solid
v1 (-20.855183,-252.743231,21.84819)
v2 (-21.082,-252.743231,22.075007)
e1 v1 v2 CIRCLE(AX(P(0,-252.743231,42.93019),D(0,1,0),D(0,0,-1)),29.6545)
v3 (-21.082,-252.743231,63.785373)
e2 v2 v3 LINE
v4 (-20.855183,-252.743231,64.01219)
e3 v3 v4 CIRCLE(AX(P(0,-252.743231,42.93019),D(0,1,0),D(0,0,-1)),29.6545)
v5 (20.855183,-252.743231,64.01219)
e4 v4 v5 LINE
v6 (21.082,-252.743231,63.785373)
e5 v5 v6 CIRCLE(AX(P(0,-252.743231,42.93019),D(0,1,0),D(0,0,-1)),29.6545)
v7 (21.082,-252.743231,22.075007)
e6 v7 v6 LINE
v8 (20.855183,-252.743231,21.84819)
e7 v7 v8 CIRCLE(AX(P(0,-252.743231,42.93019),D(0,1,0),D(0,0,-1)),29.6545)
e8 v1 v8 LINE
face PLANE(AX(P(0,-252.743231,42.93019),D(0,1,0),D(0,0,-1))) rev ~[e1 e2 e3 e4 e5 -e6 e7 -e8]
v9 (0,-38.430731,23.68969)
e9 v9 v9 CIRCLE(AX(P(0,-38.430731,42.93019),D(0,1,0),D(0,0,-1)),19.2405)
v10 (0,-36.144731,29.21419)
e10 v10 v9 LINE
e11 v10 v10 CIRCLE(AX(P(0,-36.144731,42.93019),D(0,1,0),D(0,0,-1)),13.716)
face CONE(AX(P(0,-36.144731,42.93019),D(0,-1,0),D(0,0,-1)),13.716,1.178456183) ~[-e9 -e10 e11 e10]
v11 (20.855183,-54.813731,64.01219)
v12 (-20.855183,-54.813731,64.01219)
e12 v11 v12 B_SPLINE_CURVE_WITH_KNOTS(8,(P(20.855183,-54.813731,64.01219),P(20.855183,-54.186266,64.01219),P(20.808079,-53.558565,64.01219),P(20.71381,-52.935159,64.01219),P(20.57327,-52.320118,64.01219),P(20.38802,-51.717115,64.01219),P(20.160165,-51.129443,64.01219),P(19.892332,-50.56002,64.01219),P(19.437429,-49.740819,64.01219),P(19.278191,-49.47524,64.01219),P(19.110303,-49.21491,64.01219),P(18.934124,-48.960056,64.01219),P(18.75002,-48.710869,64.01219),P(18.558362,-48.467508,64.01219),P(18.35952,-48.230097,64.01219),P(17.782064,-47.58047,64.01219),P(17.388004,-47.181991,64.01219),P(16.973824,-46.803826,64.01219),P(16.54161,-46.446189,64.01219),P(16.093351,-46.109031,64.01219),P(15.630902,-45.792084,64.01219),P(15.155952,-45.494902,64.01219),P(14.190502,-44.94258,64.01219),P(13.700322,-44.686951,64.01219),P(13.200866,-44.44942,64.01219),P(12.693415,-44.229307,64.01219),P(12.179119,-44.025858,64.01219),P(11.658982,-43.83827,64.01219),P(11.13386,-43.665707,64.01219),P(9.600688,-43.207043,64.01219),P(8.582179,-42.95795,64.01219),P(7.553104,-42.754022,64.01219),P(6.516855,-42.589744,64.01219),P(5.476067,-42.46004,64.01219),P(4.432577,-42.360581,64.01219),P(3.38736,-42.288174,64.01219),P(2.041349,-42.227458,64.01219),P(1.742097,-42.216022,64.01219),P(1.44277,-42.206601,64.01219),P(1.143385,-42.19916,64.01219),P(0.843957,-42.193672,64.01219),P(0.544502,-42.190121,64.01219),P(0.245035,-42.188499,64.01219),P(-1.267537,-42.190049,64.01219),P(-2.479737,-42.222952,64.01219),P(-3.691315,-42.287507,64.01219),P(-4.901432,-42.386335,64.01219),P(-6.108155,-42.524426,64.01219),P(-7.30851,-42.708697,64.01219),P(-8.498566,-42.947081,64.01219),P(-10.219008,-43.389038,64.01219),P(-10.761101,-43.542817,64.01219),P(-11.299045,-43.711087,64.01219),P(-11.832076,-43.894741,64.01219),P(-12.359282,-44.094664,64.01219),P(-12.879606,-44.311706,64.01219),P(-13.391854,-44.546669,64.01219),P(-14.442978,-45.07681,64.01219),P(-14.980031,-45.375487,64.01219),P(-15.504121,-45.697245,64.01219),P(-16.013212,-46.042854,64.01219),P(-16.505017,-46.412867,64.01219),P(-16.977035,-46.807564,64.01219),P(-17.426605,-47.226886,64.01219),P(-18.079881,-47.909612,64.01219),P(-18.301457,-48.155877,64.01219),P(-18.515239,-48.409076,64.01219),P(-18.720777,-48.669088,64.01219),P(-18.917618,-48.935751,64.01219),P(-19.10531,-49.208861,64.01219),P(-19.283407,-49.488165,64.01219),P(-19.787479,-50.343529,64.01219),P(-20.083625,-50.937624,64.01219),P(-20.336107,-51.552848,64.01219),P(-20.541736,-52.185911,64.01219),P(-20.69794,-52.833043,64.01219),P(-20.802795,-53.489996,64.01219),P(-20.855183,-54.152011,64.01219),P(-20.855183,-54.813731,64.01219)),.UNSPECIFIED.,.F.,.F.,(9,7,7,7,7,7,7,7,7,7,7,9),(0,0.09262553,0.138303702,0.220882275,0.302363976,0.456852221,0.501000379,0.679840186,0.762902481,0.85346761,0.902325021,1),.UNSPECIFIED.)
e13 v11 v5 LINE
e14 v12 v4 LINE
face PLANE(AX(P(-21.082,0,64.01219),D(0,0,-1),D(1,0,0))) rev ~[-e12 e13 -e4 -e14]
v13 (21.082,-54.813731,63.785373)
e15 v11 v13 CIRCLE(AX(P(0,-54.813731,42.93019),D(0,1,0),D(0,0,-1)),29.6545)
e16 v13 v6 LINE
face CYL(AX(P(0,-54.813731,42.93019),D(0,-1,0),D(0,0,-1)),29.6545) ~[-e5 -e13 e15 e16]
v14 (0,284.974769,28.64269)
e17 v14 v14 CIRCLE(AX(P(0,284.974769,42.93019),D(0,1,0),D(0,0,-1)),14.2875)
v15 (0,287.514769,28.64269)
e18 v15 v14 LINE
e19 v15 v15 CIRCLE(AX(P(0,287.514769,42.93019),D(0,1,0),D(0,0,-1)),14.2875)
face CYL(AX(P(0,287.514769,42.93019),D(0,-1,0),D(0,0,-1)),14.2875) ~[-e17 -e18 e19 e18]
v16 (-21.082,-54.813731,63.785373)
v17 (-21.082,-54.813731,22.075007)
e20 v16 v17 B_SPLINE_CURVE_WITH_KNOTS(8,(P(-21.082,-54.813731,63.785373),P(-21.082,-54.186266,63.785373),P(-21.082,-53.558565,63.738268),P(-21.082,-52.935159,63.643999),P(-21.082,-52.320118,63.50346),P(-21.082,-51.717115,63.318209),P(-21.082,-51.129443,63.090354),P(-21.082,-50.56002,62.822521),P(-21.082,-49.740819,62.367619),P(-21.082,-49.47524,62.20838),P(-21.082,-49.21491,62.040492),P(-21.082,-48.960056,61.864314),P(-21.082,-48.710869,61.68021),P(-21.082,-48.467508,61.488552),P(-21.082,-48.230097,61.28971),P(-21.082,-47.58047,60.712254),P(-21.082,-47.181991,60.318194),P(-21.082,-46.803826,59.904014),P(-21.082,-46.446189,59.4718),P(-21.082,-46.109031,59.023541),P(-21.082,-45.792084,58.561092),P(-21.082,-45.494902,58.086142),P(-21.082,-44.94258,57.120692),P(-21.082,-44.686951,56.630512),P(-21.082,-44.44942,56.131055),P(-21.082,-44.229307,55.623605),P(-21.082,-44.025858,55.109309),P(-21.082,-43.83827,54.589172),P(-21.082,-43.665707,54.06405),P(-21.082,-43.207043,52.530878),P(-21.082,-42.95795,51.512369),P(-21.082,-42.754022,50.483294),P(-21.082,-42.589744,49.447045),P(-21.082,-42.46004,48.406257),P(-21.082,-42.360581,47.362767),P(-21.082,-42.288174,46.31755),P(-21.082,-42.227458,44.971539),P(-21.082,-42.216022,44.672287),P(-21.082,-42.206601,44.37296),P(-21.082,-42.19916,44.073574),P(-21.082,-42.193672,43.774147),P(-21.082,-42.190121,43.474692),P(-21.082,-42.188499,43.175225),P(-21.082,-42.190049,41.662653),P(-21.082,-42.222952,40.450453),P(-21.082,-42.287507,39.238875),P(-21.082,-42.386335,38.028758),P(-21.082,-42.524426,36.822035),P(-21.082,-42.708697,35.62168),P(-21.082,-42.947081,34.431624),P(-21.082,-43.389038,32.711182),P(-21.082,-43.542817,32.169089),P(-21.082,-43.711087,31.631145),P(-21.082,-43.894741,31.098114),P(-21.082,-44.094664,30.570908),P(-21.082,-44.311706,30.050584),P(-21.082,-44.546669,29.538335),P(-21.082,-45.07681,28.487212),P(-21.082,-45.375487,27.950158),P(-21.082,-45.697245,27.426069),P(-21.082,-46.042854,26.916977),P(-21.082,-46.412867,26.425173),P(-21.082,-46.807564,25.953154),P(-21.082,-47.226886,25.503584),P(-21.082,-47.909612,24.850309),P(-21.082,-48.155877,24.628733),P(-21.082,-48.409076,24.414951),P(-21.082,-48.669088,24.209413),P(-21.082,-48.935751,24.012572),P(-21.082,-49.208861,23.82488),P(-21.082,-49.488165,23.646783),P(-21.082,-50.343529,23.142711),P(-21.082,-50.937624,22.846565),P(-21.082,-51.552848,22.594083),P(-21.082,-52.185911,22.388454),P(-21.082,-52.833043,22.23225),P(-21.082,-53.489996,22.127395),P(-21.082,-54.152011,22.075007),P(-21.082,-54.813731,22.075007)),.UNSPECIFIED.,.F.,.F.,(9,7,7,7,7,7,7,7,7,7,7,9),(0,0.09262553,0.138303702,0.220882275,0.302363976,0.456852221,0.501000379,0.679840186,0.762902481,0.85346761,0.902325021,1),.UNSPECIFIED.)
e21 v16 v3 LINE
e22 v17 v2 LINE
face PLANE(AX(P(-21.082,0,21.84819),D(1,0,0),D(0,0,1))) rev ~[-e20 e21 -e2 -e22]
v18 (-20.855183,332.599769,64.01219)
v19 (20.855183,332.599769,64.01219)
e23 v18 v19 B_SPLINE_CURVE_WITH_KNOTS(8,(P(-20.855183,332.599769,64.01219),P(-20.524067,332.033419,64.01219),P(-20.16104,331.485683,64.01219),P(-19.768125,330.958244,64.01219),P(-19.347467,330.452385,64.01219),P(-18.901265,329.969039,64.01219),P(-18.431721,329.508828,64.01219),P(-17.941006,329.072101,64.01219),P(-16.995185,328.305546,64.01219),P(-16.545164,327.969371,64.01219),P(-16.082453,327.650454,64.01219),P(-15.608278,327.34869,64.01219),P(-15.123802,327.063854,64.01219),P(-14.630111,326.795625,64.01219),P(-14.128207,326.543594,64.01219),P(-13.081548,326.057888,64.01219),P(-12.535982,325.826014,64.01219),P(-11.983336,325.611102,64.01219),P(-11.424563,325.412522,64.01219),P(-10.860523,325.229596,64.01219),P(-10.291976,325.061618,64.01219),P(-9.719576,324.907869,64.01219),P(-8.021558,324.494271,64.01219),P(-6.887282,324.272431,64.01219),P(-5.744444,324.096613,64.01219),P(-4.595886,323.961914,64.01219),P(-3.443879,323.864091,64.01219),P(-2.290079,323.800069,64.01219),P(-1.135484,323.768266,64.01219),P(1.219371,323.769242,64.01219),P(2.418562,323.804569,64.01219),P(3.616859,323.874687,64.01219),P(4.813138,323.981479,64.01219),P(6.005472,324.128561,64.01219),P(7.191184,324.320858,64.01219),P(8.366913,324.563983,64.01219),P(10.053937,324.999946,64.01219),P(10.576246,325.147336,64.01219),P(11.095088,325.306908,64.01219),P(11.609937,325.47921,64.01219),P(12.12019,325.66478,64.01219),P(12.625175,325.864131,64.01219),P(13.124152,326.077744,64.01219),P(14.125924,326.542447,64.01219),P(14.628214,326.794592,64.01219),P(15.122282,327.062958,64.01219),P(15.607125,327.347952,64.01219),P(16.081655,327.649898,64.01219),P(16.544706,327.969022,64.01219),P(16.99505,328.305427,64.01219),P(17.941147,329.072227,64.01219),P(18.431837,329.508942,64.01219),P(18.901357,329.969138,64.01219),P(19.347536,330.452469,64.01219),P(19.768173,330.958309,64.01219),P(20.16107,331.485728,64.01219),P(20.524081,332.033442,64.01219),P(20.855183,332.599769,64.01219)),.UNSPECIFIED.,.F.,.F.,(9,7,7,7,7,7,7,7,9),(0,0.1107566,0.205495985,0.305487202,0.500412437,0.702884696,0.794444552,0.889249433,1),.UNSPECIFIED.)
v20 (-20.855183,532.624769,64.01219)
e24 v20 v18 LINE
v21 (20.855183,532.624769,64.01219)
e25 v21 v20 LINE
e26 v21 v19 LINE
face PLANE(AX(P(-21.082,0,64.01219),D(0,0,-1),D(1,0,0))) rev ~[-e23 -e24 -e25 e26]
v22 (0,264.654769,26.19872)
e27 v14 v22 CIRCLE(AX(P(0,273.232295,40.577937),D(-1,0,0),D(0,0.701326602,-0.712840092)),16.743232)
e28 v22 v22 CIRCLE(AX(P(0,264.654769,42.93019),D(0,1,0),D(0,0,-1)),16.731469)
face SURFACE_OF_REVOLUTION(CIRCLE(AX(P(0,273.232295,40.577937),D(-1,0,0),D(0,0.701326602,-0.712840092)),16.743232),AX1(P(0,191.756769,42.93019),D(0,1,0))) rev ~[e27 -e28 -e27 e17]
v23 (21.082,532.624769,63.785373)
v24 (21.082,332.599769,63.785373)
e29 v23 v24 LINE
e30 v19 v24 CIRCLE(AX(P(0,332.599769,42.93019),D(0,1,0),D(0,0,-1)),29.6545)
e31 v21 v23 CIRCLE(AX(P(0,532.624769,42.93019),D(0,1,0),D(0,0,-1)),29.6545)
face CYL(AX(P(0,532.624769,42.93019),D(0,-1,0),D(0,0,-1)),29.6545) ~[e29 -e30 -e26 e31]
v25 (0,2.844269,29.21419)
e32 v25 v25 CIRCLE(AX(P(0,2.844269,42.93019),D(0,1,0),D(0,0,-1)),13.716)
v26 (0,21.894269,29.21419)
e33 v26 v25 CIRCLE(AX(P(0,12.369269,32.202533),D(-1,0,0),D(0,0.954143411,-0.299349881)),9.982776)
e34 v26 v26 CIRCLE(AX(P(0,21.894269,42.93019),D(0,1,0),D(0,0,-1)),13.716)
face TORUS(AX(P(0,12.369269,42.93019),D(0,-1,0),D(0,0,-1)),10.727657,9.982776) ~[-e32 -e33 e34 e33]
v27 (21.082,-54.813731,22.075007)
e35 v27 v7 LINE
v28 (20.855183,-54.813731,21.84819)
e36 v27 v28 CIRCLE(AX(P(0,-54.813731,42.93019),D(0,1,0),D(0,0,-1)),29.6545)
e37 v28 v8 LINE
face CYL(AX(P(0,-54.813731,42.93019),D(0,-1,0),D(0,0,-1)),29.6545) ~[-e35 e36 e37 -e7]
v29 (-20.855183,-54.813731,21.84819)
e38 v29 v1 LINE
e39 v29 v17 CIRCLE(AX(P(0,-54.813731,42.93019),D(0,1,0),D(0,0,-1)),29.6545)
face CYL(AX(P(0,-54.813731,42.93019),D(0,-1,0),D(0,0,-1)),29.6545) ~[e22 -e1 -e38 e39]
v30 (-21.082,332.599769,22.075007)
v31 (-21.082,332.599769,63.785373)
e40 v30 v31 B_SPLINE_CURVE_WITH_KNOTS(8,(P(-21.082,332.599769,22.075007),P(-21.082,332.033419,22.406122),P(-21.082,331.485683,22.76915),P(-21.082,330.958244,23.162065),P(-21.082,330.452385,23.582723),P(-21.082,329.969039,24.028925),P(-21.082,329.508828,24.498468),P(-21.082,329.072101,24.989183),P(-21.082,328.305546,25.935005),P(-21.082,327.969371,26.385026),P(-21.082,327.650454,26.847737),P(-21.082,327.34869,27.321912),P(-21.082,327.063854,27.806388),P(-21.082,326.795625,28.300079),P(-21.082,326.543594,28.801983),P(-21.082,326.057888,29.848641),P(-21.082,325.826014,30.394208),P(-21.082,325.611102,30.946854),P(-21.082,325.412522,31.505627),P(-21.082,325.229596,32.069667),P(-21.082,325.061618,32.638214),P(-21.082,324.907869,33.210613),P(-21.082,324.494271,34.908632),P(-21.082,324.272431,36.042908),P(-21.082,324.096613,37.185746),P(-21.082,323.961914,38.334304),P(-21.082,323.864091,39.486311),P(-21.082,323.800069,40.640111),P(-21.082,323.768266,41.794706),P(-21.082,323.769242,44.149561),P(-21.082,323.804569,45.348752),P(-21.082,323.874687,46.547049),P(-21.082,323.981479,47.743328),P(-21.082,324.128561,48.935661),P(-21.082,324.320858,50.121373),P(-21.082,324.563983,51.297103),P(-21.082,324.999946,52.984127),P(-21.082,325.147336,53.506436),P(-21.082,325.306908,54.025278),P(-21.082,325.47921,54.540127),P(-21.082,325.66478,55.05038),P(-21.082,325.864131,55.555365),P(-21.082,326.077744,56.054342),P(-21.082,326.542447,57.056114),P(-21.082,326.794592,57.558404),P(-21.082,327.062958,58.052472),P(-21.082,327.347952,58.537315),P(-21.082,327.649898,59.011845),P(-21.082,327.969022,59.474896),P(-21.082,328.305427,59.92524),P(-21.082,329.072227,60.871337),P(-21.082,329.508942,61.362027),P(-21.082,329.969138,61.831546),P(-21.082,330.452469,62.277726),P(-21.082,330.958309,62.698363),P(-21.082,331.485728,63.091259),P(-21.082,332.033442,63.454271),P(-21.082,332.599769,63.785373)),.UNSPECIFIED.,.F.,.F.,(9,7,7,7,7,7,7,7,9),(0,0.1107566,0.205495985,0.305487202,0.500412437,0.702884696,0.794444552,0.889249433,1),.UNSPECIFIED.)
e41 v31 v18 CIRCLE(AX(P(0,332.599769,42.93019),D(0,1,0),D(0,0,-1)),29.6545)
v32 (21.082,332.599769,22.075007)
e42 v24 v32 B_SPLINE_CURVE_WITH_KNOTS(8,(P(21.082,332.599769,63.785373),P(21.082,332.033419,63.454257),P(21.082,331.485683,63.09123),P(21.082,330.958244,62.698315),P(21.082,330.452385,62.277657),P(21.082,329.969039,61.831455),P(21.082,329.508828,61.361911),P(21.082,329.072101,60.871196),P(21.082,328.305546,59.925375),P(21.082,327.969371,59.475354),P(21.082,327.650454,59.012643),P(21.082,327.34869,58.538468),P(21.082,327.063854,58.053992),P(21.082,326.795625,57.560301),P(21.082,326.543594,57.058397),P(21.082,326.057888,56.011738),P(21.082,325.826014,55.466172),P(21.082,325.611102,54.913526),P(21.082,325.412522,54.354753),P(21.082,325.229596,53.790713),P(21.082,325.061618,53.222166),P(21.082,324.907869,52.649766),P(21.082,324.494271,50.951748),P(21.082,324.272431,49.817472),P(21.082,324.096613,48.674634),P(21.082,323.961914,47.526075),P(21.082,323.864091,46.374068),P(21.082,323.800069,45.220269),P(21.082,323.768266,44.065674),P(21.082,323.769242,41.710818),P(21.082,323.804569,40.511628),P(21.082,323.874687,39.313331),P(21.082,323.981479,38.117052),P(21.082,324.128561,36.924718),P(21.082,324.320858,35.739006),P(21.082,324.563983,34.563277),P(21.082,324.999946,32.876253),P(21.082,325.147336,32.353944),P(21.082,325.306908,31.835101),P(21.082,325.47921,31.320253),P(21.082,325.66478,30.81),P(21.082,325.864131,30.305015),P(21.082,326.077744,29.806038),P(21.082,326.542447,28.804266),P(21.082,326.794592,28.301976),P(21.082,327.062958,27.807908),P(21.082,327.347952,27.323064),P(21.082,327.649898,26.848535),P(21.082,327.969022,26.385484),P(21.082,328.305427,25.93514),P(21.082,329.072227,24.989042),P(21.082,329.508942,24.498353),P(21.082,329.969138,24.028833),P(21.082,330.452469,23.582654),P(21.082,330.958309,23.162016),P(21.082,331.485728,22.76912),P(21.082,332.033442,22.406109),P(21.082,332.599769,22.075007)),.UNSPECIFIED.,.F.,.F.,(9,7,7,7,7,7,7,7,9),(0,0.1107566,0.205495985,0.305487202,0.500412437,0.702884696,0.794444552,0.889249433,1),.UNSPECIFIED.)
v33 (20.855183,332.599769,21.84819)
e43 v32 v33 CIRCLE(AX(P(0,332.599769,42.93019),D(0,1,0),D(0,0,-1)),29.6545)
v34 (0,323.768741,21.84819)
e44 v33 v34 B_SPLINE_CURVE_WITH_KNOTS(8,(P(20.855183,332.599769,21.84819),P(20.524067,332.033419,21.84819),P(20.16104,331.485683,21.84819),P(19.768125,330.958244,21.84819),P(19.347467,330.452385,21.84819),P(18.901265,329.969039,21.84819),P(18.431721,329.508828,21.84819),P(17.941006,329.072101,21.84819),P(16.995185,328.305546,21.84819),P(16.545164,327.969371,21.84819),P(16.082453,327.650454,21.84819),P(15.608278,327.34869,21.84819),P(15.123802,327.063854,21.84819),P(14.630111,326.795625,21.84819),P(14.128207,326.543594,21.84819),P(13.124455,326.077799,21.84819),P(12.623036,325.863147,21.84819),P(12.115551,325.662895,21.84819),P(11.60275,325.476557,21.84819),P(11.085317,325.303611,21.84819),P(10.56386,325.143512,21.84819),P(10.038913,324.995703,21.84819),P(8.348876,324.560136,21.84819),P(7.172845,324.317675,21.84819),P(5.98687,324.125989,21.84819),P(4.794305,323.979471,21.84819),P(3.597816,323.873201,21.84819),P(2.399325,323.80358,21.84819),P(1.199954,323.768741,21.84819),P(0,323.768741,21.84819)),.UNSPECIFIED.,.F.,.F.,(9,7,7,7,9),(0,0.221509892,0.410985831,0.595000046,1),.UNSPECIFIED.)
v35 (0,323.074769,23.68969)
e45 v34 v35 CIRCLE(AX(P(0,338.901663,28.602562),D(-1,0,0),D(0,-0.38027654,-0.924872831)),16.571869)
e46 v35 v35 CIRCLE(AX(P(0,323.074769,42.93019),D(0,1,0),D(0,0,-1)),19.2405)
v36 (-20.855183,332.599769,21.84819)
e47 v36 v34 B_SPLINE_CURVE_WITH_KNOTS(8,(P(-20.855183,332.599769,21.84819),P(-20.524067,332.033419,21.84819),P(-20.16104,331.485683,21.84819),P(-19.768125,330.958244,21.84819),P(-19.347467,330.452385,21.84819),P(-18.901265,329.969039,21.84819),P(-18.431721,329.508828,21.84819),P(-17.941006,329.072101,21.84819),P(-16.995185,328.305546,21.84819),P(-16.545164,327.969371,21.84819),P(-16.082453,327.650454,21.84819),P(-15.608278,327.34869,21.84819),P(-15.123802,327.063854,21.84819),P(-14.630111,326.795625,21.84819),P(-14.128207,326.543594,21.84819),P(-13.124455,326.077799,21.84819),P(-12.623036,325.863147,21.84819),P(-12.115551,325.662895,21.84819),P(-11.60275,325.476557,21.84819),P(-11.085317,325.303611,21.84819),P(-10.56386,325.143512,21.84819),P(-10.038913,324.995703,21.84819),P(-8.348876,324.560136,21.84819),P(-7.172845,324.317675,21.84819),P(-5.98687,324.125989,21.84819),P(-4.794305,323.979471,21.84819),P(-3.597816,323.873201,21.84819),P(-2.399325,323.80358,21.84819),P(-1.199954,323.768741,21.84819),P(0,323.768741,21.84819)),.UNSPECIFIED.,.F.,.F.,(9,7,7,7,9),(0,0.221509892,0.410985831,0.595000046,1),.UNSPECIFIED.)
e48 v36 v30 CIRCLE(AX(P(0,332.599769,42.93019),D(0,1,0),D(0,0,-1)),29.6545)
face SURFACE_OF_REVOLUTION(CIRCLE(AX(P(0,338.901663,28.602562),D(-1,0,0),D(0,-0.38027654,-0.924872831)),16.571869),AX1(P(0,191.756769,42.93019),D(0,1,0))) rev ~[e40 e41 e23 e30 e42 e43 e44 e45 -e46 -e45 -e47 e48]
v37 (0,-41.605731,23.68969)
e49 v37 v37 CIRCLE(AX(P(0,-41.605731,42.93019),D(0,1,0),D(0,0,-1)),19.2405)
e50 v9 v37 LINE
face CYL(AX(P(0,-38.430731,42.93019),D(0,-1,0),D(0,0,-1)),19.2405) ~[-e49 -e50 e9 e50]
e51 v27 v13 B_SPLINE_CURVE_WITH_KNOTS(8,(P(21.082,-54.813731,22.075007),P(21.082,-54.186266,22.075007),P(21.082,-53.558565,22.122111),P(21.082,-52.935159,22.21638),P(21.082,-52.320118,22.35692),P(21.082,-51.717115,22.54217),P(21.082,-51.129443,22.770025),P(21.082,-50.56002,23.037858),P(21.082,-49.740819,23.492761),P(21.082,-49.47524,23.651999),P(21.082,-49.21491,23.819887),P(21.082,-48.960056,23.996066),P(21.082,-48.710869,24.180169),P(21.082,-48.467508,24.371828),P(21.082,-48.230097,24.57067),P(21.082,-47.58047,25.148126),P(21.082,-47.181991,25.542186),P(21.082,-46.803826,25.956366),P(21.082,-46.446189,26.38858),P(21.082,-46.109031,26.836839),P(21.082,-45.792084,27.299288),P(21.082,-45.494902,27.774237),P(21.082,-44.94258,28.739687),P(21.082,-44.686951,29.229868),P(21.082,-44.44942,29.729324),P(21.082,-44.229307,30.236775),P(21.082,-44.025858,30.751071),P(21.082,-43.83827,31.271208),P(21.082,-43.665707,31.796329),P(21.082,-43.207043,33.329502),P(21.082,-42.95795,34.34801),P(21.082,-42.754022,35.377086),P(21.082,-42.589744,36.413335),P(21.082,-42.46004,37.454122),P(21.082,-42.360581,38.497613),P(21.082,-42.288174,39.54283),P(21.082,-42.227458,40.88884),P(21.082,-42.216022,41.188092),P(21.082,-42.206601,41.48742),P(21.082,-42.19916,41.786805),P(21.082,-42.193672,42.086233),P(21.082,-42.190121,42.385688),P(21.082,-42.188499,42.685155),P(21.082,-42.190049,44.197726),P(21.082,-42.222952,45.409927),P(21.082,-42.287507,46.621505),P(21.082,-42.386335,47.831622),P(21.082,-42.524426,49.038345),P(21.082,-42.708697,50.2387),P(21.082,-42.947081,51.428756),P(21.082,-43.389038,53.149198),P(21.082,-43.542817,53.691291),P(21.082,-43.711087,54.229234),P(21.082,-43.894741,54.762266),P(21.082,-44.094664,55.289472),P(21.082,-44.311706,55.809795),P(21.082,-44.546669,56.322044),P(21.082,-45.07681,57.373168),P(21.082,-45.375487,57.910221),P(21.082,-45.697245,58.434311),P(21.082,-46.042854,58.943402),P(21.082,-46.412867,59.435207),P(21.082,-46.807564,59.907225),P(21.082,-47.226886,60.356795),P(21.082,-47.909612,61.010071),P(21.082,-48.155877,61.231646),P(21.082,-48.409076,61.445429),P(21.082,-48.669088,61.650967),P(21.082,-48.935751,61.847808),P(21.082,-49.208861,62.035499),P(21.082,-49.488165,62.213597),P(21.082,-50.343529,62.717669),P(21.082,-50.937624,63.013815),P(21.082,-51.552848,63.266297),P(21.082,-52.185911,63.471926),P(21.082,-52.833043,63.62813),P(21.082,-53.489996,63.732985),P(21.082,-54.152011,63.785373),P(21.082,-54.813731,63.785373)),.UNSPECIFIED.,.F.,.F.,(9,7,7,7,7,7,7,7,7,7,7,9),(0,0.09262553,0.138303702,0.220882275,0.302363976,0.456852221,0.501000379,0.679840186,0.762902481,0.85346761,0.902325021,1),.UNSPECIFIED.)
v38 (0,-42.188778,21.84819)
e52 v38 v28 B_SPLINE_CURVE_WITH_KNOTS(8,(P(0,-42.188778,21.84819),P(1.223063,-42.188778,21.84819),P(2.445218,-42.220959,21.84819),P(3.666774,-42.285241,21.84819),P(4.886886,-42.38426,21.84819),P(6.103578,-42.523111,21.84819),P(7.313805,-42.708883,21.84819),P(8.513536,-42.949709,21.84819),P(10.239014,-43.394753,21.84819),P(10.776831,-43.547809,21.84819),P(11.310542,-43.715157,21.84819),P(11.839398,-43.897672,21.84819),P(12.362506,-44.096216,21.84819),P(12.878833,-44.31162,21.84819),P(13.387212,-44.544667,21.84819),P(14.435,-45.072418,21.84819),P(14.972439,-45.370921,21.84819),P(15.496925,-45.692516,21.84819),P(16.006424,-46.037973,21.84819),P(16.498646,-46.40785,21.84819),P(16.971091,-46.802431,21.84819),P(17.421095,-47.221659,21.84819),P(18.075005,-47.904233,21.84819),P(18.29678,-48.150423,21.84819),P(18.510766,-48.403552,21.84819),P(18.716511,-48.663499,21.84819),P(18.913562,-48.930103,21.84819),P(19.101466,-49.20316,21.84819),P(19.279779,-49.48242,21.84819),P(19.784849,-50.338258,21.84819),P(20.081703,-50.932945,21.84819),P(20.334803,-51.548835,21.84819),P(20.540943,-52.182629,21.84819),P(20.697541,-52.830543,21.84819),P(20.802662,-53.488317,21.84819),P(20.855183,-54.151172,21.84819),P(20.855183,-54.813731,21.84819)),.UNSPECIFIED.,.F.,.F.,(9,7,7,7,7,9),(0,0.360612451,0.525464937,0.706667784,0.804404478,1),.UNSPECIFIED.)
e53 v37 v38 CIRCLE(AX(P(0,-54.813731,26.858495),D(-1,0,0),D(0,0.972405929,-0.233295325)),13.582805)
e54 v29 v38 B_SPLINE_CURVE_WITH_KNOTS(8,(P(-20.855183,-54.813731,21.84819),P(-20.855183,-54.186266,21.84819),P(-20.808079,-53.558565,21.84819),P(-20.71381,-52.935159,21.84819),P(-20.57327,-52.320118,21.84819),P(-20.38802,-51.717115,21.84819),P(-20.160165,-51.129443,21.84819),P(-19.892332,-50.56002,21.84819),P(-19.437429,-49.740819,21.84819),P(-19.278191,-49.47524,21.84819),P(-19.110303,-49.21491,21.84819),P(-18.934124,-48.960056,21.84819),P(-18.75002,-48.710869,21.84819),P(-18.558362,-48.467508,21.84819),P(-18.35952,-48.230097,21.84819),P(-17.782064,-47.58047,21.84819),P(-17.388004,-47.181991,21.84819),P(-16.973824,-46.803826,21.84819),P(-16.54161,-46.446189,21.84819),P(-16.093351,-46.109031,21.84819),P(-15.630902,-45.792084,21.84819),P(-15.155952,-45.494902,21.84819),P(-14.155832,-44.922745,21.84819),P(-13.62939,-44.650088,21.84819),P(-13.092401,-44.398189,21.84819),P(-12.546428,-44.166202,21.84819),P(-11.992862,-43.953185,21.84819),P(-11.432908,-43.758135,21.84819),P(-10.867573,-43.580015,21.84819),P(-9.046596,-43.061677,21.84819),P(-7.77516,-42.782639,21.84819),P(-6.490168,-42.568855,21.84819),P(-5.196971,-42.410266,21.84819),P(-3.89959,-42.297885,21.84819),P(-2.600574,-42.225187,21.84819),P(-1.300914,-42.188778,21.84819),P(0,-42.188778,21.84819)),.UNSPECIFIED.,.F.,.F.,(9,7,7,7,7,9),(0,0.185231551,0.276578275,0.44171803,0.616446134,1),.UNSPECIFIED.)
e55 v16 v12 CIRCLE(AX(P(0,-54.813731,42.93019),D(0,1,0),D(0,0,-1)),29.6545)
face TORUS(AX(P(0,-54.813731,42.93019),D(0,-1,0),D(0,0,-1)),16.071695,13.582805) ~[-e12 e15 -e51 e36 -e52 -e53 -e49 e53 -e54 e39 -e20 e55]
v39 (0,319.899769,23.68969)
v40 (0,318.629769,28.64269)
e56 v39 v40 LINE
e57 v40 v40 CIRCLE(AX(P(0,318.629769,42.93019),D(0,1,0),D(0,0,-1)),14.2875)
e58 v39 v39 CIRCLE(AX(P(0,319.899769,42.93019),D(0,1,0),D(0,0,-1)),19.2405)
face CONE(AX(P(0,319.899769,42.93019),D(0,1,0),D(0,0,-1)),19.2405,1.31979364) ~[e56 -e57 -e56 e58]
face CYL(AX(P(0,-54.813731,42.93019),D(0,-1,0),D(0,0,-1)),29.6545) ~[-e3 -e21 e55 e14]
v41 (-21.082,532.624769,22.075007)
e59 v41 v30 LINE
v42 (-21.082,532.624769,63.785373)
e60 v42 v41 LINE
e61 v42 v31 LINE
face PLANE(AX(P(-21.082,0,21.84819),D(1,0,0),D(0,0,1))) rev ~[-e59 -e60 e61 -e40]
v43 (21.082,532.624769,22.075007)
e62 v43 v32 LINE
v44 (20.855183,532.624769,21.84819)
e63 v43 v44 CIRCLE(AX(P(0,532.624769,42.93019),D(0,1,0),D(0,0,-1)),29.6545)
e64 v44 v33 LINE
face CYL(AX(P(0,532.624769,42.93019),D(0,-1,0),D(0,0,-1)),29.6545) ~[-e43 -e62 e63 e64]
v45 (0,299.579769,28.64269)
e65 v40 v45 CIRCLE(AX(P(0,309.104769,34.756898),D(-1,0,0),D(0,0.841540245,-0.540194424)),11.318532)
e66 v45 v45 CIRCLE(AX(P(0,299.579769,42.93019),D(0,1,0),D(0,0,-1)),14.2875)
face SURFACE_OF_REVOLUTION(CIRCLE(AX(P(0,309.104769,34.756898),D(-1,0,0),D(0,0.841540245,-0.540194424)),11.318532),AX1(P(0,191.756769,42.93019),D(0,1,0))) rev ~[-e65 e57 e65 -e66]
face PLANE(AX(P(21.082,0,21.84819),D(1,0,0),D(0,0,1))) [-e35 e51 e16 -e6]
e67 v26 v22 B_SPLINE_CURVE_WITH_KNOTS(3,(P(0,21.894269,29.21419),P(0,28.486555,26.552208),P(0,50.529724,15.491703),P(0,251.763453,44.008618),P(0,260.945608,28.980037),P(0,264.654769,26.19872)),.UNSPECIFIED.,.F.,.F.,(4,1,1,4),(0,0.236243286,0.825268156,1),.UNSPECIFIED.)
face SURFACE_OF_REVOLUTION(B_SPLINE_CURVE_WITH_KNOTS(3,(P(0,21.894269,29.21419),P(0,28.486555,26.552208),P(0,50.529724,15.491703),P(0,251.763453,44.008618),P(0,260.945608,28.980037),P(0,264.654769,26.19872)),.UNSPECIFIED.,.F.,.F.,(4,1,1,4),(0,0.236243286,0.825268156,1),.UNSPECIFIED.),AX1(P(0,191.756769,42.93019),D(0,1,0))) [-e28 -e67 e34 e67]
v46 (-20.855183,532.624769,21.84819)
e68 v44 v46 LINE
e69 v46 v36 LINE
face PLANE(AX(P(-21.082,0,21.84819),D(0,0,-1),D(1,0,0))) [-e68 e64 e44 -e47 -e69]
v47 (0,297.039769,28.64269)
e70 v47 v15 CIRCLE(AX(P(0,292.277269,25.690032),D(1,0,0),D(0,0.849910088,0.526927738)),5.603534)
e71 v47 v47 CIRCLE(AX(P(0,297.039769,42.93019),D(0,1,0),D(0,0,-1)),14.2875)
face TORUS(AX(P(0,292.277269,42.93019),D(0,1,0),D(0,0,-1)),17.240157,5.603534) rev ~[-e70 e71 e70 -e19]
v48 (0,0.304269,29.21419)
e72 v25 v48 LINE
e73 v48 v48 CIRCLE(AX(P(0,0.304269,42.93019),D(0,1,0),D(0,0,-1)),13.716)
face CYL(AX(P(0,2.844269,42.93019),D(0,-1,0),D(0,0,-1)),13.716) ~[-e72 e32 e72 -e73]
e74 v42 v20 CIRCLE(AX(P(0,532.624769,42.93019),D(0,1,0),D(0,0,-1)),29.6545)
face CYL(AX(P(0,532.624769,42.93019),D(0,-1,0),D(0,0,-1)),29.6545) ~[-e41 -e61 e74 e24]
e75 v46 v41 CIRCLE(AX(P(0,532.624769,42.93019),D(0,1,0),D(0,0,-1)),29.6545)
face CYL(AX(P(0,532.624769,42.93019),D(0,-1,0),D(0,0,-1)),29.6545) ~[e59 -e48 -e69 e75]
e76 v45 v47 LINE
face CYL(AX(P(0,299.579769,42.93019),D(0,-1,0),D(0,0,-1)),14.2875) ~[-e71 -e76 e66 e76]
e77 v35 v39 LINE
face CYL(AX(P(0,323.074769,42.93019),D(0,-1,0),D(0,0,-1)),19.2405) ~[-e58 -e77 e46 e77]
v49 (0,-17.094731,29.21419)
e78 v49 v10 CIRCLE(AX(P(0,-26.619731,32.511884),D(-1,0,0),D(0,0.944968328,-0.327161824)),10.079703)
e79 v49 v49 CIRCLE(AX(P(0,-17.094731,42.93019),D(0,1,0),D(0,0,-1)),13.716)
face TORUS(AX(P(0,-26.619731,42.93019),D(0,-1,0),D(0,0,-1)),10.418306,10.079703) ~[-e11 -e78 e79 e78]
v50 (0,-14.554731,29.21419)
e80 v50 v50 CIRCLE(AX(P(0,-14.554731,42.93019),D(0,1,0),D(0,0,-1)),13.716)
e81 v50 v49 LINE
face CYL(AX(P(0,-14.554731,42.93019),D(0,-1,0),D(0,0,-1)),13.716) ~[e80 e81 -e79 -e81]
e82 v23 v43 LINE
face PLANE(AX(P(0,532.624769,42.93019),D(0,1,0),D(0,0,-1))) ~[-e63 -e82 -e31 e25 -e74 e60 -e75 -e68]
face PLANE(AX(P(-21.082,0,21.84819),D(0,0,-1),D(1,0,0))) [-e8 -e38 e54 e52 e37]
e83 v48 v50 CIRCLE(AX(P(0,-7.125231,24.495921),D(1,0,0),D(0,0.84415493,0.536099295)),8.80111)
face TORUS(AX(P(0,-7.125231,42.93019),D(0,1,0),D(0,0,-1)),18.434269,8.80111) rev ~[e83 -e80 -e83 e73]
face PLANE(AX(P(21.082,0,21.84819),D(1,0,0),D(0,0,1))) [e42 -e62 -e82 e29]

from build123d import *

# Parameters (mm, degrees)
F1_W     = 42.164
F1_H     = 42.164
F2_DEPTH = 329.31024
F3_DEPTH = 569.34836


with BuildPart() as f2:
    # F1 (on Front) → F2 (new body)
    with BuildSketch(Plane.XZ):
        with Locations((0, 42.9301898345)):
            Rectangle(F1_W, F1_H)
    extrude(amount=F2_DEPTH)

    # F3 (add): a face of the model
    f3_faces = [f2.faces().sort_by_distance(p)[0] for p in [
        (0, 0, 42.9301898345),
    ]]
    extrude(f3_faces, amount=F3_DEPTH)

    # F0 (on Right) → F4 (revolve, cut)
    with BuildSketch(Plane.YZ):
        with BuildLine():
            Line((-54.8137305173, 13.2756898345), (-252.7432305173, 13.2756898345))
            Line((-252.7432305173, 13.2756898345), (-252.7432305173, 42.9301898345))
            Line((-252.7432305173, 42.9301898345), (-379.7432305173, 42.9301898345))
            Line((-379.7432305173, 42.9301898345), (-379.7432305173, -33.8413101655))
            Line((-379.7432305173, -33.8413101655), (-278.6512305173, -33.8413101655))
            Line((-278.6512305173, -33.8413101655), (508.7487694827, -33.8413101655))
            Line((508.7487694827, -33.8413101655), (659.6247694827, -33.8413101655))
            Line((659.6247694827, -33.8413101655), (659.6247694827, 42.9301898345))
            Line((659.6247694827, 42.9301898345), (532.6247694827, 42.9301898345))
            Line((532.6247694827, 42.9301898345), (532.6247694827, 13.2756898345))
            Line((532.6247694827, 13.2756898345), (332.5997694827, 13.2756898345))
            ThreePointArc((332.5997694827, 13.2756898345), (326.6732676132, 17.4180539782), (323.0747694827, 23.6896898345))
            Line((323.0747694827, 23.6896898345), (319.8997694827, 23.6896898345))
            Line((319.8997694827, 23.6896898345), (318.6297694827, 28.6426898345))
            ThreePointArc((318.6297694827, 28.6426898345), (309.1047694827, 23.438365818), (299.5797694827, 28.6426898345))
            Line((299.5797694827, 28.6426898345), (297.0397694827, 28.6426898345))
            ThreePointArc((297.0397694827, 28.6426898345), (292.2772694827, 31.2935662933), (287.5147694827, 28.6426898345))
            Line((287.5147694827, 28.6426898345), (284.9747694827, 28.6426898345))
            ThreePointArc((284.9747694827, 28.6426898345), (275.2316630326, 23.9545092019), (264.6547694827, 26.1987203719))
            add(Edge.make_bspline(
                [(21.8942694827, 29.2141898345), (28.4865554268, 26.552207803), (50.5297240033, 15.4917034902), (251.7634528726, 44.0086182083), (260.945607642, 28.9800372784), (264.6547694827, 26.1987203719)],
                knots=[0, 0, 0, 0, 0.2362432857, 0.8252681562, 1, 1, 1, 1], degree=3))
            ThreePointArc((21.8942694827, 29.2141898345), (12.3692694827, 22.2197566023), (2.8442694827, 29.2141898345))
            Line((2.8442694827, 29.2141898345), (0.3042694827, 29.2141898345))
            ThreePointArc((0.3042694827, 29.2141898345), (-7.1252305173, 33.2970307484), (-14.5547305173, 29.2141898345))
            Line((-14.5547305173, 29.2141898345), (-17.0947305173, 29.2141898345))
            ThreePointArc((-17.0947305173, 29.2141898345), (-26.6197305173, 22.4321809186), (-36.1447305173, 29.2141898345))
            Line((-36.1447305173, 29.2141898345), (-38.4307305173, 23.6896898345))
            Line((-38.4307305173, 23.6896898345), (-41.6057305173, 23.6896898345))
            ThreePointArc((-41.6057305173, 23.6896898345), (-46.4038752866, 16.1923368591), (-54.8137305173, 13.2756898345))
        make_face()
    revolve(axis=Axis((0, 191.7567694827, 42.9301898345), (0, 1, 0)), mode=Mode.SUBTRACT)


solid = f2.part
